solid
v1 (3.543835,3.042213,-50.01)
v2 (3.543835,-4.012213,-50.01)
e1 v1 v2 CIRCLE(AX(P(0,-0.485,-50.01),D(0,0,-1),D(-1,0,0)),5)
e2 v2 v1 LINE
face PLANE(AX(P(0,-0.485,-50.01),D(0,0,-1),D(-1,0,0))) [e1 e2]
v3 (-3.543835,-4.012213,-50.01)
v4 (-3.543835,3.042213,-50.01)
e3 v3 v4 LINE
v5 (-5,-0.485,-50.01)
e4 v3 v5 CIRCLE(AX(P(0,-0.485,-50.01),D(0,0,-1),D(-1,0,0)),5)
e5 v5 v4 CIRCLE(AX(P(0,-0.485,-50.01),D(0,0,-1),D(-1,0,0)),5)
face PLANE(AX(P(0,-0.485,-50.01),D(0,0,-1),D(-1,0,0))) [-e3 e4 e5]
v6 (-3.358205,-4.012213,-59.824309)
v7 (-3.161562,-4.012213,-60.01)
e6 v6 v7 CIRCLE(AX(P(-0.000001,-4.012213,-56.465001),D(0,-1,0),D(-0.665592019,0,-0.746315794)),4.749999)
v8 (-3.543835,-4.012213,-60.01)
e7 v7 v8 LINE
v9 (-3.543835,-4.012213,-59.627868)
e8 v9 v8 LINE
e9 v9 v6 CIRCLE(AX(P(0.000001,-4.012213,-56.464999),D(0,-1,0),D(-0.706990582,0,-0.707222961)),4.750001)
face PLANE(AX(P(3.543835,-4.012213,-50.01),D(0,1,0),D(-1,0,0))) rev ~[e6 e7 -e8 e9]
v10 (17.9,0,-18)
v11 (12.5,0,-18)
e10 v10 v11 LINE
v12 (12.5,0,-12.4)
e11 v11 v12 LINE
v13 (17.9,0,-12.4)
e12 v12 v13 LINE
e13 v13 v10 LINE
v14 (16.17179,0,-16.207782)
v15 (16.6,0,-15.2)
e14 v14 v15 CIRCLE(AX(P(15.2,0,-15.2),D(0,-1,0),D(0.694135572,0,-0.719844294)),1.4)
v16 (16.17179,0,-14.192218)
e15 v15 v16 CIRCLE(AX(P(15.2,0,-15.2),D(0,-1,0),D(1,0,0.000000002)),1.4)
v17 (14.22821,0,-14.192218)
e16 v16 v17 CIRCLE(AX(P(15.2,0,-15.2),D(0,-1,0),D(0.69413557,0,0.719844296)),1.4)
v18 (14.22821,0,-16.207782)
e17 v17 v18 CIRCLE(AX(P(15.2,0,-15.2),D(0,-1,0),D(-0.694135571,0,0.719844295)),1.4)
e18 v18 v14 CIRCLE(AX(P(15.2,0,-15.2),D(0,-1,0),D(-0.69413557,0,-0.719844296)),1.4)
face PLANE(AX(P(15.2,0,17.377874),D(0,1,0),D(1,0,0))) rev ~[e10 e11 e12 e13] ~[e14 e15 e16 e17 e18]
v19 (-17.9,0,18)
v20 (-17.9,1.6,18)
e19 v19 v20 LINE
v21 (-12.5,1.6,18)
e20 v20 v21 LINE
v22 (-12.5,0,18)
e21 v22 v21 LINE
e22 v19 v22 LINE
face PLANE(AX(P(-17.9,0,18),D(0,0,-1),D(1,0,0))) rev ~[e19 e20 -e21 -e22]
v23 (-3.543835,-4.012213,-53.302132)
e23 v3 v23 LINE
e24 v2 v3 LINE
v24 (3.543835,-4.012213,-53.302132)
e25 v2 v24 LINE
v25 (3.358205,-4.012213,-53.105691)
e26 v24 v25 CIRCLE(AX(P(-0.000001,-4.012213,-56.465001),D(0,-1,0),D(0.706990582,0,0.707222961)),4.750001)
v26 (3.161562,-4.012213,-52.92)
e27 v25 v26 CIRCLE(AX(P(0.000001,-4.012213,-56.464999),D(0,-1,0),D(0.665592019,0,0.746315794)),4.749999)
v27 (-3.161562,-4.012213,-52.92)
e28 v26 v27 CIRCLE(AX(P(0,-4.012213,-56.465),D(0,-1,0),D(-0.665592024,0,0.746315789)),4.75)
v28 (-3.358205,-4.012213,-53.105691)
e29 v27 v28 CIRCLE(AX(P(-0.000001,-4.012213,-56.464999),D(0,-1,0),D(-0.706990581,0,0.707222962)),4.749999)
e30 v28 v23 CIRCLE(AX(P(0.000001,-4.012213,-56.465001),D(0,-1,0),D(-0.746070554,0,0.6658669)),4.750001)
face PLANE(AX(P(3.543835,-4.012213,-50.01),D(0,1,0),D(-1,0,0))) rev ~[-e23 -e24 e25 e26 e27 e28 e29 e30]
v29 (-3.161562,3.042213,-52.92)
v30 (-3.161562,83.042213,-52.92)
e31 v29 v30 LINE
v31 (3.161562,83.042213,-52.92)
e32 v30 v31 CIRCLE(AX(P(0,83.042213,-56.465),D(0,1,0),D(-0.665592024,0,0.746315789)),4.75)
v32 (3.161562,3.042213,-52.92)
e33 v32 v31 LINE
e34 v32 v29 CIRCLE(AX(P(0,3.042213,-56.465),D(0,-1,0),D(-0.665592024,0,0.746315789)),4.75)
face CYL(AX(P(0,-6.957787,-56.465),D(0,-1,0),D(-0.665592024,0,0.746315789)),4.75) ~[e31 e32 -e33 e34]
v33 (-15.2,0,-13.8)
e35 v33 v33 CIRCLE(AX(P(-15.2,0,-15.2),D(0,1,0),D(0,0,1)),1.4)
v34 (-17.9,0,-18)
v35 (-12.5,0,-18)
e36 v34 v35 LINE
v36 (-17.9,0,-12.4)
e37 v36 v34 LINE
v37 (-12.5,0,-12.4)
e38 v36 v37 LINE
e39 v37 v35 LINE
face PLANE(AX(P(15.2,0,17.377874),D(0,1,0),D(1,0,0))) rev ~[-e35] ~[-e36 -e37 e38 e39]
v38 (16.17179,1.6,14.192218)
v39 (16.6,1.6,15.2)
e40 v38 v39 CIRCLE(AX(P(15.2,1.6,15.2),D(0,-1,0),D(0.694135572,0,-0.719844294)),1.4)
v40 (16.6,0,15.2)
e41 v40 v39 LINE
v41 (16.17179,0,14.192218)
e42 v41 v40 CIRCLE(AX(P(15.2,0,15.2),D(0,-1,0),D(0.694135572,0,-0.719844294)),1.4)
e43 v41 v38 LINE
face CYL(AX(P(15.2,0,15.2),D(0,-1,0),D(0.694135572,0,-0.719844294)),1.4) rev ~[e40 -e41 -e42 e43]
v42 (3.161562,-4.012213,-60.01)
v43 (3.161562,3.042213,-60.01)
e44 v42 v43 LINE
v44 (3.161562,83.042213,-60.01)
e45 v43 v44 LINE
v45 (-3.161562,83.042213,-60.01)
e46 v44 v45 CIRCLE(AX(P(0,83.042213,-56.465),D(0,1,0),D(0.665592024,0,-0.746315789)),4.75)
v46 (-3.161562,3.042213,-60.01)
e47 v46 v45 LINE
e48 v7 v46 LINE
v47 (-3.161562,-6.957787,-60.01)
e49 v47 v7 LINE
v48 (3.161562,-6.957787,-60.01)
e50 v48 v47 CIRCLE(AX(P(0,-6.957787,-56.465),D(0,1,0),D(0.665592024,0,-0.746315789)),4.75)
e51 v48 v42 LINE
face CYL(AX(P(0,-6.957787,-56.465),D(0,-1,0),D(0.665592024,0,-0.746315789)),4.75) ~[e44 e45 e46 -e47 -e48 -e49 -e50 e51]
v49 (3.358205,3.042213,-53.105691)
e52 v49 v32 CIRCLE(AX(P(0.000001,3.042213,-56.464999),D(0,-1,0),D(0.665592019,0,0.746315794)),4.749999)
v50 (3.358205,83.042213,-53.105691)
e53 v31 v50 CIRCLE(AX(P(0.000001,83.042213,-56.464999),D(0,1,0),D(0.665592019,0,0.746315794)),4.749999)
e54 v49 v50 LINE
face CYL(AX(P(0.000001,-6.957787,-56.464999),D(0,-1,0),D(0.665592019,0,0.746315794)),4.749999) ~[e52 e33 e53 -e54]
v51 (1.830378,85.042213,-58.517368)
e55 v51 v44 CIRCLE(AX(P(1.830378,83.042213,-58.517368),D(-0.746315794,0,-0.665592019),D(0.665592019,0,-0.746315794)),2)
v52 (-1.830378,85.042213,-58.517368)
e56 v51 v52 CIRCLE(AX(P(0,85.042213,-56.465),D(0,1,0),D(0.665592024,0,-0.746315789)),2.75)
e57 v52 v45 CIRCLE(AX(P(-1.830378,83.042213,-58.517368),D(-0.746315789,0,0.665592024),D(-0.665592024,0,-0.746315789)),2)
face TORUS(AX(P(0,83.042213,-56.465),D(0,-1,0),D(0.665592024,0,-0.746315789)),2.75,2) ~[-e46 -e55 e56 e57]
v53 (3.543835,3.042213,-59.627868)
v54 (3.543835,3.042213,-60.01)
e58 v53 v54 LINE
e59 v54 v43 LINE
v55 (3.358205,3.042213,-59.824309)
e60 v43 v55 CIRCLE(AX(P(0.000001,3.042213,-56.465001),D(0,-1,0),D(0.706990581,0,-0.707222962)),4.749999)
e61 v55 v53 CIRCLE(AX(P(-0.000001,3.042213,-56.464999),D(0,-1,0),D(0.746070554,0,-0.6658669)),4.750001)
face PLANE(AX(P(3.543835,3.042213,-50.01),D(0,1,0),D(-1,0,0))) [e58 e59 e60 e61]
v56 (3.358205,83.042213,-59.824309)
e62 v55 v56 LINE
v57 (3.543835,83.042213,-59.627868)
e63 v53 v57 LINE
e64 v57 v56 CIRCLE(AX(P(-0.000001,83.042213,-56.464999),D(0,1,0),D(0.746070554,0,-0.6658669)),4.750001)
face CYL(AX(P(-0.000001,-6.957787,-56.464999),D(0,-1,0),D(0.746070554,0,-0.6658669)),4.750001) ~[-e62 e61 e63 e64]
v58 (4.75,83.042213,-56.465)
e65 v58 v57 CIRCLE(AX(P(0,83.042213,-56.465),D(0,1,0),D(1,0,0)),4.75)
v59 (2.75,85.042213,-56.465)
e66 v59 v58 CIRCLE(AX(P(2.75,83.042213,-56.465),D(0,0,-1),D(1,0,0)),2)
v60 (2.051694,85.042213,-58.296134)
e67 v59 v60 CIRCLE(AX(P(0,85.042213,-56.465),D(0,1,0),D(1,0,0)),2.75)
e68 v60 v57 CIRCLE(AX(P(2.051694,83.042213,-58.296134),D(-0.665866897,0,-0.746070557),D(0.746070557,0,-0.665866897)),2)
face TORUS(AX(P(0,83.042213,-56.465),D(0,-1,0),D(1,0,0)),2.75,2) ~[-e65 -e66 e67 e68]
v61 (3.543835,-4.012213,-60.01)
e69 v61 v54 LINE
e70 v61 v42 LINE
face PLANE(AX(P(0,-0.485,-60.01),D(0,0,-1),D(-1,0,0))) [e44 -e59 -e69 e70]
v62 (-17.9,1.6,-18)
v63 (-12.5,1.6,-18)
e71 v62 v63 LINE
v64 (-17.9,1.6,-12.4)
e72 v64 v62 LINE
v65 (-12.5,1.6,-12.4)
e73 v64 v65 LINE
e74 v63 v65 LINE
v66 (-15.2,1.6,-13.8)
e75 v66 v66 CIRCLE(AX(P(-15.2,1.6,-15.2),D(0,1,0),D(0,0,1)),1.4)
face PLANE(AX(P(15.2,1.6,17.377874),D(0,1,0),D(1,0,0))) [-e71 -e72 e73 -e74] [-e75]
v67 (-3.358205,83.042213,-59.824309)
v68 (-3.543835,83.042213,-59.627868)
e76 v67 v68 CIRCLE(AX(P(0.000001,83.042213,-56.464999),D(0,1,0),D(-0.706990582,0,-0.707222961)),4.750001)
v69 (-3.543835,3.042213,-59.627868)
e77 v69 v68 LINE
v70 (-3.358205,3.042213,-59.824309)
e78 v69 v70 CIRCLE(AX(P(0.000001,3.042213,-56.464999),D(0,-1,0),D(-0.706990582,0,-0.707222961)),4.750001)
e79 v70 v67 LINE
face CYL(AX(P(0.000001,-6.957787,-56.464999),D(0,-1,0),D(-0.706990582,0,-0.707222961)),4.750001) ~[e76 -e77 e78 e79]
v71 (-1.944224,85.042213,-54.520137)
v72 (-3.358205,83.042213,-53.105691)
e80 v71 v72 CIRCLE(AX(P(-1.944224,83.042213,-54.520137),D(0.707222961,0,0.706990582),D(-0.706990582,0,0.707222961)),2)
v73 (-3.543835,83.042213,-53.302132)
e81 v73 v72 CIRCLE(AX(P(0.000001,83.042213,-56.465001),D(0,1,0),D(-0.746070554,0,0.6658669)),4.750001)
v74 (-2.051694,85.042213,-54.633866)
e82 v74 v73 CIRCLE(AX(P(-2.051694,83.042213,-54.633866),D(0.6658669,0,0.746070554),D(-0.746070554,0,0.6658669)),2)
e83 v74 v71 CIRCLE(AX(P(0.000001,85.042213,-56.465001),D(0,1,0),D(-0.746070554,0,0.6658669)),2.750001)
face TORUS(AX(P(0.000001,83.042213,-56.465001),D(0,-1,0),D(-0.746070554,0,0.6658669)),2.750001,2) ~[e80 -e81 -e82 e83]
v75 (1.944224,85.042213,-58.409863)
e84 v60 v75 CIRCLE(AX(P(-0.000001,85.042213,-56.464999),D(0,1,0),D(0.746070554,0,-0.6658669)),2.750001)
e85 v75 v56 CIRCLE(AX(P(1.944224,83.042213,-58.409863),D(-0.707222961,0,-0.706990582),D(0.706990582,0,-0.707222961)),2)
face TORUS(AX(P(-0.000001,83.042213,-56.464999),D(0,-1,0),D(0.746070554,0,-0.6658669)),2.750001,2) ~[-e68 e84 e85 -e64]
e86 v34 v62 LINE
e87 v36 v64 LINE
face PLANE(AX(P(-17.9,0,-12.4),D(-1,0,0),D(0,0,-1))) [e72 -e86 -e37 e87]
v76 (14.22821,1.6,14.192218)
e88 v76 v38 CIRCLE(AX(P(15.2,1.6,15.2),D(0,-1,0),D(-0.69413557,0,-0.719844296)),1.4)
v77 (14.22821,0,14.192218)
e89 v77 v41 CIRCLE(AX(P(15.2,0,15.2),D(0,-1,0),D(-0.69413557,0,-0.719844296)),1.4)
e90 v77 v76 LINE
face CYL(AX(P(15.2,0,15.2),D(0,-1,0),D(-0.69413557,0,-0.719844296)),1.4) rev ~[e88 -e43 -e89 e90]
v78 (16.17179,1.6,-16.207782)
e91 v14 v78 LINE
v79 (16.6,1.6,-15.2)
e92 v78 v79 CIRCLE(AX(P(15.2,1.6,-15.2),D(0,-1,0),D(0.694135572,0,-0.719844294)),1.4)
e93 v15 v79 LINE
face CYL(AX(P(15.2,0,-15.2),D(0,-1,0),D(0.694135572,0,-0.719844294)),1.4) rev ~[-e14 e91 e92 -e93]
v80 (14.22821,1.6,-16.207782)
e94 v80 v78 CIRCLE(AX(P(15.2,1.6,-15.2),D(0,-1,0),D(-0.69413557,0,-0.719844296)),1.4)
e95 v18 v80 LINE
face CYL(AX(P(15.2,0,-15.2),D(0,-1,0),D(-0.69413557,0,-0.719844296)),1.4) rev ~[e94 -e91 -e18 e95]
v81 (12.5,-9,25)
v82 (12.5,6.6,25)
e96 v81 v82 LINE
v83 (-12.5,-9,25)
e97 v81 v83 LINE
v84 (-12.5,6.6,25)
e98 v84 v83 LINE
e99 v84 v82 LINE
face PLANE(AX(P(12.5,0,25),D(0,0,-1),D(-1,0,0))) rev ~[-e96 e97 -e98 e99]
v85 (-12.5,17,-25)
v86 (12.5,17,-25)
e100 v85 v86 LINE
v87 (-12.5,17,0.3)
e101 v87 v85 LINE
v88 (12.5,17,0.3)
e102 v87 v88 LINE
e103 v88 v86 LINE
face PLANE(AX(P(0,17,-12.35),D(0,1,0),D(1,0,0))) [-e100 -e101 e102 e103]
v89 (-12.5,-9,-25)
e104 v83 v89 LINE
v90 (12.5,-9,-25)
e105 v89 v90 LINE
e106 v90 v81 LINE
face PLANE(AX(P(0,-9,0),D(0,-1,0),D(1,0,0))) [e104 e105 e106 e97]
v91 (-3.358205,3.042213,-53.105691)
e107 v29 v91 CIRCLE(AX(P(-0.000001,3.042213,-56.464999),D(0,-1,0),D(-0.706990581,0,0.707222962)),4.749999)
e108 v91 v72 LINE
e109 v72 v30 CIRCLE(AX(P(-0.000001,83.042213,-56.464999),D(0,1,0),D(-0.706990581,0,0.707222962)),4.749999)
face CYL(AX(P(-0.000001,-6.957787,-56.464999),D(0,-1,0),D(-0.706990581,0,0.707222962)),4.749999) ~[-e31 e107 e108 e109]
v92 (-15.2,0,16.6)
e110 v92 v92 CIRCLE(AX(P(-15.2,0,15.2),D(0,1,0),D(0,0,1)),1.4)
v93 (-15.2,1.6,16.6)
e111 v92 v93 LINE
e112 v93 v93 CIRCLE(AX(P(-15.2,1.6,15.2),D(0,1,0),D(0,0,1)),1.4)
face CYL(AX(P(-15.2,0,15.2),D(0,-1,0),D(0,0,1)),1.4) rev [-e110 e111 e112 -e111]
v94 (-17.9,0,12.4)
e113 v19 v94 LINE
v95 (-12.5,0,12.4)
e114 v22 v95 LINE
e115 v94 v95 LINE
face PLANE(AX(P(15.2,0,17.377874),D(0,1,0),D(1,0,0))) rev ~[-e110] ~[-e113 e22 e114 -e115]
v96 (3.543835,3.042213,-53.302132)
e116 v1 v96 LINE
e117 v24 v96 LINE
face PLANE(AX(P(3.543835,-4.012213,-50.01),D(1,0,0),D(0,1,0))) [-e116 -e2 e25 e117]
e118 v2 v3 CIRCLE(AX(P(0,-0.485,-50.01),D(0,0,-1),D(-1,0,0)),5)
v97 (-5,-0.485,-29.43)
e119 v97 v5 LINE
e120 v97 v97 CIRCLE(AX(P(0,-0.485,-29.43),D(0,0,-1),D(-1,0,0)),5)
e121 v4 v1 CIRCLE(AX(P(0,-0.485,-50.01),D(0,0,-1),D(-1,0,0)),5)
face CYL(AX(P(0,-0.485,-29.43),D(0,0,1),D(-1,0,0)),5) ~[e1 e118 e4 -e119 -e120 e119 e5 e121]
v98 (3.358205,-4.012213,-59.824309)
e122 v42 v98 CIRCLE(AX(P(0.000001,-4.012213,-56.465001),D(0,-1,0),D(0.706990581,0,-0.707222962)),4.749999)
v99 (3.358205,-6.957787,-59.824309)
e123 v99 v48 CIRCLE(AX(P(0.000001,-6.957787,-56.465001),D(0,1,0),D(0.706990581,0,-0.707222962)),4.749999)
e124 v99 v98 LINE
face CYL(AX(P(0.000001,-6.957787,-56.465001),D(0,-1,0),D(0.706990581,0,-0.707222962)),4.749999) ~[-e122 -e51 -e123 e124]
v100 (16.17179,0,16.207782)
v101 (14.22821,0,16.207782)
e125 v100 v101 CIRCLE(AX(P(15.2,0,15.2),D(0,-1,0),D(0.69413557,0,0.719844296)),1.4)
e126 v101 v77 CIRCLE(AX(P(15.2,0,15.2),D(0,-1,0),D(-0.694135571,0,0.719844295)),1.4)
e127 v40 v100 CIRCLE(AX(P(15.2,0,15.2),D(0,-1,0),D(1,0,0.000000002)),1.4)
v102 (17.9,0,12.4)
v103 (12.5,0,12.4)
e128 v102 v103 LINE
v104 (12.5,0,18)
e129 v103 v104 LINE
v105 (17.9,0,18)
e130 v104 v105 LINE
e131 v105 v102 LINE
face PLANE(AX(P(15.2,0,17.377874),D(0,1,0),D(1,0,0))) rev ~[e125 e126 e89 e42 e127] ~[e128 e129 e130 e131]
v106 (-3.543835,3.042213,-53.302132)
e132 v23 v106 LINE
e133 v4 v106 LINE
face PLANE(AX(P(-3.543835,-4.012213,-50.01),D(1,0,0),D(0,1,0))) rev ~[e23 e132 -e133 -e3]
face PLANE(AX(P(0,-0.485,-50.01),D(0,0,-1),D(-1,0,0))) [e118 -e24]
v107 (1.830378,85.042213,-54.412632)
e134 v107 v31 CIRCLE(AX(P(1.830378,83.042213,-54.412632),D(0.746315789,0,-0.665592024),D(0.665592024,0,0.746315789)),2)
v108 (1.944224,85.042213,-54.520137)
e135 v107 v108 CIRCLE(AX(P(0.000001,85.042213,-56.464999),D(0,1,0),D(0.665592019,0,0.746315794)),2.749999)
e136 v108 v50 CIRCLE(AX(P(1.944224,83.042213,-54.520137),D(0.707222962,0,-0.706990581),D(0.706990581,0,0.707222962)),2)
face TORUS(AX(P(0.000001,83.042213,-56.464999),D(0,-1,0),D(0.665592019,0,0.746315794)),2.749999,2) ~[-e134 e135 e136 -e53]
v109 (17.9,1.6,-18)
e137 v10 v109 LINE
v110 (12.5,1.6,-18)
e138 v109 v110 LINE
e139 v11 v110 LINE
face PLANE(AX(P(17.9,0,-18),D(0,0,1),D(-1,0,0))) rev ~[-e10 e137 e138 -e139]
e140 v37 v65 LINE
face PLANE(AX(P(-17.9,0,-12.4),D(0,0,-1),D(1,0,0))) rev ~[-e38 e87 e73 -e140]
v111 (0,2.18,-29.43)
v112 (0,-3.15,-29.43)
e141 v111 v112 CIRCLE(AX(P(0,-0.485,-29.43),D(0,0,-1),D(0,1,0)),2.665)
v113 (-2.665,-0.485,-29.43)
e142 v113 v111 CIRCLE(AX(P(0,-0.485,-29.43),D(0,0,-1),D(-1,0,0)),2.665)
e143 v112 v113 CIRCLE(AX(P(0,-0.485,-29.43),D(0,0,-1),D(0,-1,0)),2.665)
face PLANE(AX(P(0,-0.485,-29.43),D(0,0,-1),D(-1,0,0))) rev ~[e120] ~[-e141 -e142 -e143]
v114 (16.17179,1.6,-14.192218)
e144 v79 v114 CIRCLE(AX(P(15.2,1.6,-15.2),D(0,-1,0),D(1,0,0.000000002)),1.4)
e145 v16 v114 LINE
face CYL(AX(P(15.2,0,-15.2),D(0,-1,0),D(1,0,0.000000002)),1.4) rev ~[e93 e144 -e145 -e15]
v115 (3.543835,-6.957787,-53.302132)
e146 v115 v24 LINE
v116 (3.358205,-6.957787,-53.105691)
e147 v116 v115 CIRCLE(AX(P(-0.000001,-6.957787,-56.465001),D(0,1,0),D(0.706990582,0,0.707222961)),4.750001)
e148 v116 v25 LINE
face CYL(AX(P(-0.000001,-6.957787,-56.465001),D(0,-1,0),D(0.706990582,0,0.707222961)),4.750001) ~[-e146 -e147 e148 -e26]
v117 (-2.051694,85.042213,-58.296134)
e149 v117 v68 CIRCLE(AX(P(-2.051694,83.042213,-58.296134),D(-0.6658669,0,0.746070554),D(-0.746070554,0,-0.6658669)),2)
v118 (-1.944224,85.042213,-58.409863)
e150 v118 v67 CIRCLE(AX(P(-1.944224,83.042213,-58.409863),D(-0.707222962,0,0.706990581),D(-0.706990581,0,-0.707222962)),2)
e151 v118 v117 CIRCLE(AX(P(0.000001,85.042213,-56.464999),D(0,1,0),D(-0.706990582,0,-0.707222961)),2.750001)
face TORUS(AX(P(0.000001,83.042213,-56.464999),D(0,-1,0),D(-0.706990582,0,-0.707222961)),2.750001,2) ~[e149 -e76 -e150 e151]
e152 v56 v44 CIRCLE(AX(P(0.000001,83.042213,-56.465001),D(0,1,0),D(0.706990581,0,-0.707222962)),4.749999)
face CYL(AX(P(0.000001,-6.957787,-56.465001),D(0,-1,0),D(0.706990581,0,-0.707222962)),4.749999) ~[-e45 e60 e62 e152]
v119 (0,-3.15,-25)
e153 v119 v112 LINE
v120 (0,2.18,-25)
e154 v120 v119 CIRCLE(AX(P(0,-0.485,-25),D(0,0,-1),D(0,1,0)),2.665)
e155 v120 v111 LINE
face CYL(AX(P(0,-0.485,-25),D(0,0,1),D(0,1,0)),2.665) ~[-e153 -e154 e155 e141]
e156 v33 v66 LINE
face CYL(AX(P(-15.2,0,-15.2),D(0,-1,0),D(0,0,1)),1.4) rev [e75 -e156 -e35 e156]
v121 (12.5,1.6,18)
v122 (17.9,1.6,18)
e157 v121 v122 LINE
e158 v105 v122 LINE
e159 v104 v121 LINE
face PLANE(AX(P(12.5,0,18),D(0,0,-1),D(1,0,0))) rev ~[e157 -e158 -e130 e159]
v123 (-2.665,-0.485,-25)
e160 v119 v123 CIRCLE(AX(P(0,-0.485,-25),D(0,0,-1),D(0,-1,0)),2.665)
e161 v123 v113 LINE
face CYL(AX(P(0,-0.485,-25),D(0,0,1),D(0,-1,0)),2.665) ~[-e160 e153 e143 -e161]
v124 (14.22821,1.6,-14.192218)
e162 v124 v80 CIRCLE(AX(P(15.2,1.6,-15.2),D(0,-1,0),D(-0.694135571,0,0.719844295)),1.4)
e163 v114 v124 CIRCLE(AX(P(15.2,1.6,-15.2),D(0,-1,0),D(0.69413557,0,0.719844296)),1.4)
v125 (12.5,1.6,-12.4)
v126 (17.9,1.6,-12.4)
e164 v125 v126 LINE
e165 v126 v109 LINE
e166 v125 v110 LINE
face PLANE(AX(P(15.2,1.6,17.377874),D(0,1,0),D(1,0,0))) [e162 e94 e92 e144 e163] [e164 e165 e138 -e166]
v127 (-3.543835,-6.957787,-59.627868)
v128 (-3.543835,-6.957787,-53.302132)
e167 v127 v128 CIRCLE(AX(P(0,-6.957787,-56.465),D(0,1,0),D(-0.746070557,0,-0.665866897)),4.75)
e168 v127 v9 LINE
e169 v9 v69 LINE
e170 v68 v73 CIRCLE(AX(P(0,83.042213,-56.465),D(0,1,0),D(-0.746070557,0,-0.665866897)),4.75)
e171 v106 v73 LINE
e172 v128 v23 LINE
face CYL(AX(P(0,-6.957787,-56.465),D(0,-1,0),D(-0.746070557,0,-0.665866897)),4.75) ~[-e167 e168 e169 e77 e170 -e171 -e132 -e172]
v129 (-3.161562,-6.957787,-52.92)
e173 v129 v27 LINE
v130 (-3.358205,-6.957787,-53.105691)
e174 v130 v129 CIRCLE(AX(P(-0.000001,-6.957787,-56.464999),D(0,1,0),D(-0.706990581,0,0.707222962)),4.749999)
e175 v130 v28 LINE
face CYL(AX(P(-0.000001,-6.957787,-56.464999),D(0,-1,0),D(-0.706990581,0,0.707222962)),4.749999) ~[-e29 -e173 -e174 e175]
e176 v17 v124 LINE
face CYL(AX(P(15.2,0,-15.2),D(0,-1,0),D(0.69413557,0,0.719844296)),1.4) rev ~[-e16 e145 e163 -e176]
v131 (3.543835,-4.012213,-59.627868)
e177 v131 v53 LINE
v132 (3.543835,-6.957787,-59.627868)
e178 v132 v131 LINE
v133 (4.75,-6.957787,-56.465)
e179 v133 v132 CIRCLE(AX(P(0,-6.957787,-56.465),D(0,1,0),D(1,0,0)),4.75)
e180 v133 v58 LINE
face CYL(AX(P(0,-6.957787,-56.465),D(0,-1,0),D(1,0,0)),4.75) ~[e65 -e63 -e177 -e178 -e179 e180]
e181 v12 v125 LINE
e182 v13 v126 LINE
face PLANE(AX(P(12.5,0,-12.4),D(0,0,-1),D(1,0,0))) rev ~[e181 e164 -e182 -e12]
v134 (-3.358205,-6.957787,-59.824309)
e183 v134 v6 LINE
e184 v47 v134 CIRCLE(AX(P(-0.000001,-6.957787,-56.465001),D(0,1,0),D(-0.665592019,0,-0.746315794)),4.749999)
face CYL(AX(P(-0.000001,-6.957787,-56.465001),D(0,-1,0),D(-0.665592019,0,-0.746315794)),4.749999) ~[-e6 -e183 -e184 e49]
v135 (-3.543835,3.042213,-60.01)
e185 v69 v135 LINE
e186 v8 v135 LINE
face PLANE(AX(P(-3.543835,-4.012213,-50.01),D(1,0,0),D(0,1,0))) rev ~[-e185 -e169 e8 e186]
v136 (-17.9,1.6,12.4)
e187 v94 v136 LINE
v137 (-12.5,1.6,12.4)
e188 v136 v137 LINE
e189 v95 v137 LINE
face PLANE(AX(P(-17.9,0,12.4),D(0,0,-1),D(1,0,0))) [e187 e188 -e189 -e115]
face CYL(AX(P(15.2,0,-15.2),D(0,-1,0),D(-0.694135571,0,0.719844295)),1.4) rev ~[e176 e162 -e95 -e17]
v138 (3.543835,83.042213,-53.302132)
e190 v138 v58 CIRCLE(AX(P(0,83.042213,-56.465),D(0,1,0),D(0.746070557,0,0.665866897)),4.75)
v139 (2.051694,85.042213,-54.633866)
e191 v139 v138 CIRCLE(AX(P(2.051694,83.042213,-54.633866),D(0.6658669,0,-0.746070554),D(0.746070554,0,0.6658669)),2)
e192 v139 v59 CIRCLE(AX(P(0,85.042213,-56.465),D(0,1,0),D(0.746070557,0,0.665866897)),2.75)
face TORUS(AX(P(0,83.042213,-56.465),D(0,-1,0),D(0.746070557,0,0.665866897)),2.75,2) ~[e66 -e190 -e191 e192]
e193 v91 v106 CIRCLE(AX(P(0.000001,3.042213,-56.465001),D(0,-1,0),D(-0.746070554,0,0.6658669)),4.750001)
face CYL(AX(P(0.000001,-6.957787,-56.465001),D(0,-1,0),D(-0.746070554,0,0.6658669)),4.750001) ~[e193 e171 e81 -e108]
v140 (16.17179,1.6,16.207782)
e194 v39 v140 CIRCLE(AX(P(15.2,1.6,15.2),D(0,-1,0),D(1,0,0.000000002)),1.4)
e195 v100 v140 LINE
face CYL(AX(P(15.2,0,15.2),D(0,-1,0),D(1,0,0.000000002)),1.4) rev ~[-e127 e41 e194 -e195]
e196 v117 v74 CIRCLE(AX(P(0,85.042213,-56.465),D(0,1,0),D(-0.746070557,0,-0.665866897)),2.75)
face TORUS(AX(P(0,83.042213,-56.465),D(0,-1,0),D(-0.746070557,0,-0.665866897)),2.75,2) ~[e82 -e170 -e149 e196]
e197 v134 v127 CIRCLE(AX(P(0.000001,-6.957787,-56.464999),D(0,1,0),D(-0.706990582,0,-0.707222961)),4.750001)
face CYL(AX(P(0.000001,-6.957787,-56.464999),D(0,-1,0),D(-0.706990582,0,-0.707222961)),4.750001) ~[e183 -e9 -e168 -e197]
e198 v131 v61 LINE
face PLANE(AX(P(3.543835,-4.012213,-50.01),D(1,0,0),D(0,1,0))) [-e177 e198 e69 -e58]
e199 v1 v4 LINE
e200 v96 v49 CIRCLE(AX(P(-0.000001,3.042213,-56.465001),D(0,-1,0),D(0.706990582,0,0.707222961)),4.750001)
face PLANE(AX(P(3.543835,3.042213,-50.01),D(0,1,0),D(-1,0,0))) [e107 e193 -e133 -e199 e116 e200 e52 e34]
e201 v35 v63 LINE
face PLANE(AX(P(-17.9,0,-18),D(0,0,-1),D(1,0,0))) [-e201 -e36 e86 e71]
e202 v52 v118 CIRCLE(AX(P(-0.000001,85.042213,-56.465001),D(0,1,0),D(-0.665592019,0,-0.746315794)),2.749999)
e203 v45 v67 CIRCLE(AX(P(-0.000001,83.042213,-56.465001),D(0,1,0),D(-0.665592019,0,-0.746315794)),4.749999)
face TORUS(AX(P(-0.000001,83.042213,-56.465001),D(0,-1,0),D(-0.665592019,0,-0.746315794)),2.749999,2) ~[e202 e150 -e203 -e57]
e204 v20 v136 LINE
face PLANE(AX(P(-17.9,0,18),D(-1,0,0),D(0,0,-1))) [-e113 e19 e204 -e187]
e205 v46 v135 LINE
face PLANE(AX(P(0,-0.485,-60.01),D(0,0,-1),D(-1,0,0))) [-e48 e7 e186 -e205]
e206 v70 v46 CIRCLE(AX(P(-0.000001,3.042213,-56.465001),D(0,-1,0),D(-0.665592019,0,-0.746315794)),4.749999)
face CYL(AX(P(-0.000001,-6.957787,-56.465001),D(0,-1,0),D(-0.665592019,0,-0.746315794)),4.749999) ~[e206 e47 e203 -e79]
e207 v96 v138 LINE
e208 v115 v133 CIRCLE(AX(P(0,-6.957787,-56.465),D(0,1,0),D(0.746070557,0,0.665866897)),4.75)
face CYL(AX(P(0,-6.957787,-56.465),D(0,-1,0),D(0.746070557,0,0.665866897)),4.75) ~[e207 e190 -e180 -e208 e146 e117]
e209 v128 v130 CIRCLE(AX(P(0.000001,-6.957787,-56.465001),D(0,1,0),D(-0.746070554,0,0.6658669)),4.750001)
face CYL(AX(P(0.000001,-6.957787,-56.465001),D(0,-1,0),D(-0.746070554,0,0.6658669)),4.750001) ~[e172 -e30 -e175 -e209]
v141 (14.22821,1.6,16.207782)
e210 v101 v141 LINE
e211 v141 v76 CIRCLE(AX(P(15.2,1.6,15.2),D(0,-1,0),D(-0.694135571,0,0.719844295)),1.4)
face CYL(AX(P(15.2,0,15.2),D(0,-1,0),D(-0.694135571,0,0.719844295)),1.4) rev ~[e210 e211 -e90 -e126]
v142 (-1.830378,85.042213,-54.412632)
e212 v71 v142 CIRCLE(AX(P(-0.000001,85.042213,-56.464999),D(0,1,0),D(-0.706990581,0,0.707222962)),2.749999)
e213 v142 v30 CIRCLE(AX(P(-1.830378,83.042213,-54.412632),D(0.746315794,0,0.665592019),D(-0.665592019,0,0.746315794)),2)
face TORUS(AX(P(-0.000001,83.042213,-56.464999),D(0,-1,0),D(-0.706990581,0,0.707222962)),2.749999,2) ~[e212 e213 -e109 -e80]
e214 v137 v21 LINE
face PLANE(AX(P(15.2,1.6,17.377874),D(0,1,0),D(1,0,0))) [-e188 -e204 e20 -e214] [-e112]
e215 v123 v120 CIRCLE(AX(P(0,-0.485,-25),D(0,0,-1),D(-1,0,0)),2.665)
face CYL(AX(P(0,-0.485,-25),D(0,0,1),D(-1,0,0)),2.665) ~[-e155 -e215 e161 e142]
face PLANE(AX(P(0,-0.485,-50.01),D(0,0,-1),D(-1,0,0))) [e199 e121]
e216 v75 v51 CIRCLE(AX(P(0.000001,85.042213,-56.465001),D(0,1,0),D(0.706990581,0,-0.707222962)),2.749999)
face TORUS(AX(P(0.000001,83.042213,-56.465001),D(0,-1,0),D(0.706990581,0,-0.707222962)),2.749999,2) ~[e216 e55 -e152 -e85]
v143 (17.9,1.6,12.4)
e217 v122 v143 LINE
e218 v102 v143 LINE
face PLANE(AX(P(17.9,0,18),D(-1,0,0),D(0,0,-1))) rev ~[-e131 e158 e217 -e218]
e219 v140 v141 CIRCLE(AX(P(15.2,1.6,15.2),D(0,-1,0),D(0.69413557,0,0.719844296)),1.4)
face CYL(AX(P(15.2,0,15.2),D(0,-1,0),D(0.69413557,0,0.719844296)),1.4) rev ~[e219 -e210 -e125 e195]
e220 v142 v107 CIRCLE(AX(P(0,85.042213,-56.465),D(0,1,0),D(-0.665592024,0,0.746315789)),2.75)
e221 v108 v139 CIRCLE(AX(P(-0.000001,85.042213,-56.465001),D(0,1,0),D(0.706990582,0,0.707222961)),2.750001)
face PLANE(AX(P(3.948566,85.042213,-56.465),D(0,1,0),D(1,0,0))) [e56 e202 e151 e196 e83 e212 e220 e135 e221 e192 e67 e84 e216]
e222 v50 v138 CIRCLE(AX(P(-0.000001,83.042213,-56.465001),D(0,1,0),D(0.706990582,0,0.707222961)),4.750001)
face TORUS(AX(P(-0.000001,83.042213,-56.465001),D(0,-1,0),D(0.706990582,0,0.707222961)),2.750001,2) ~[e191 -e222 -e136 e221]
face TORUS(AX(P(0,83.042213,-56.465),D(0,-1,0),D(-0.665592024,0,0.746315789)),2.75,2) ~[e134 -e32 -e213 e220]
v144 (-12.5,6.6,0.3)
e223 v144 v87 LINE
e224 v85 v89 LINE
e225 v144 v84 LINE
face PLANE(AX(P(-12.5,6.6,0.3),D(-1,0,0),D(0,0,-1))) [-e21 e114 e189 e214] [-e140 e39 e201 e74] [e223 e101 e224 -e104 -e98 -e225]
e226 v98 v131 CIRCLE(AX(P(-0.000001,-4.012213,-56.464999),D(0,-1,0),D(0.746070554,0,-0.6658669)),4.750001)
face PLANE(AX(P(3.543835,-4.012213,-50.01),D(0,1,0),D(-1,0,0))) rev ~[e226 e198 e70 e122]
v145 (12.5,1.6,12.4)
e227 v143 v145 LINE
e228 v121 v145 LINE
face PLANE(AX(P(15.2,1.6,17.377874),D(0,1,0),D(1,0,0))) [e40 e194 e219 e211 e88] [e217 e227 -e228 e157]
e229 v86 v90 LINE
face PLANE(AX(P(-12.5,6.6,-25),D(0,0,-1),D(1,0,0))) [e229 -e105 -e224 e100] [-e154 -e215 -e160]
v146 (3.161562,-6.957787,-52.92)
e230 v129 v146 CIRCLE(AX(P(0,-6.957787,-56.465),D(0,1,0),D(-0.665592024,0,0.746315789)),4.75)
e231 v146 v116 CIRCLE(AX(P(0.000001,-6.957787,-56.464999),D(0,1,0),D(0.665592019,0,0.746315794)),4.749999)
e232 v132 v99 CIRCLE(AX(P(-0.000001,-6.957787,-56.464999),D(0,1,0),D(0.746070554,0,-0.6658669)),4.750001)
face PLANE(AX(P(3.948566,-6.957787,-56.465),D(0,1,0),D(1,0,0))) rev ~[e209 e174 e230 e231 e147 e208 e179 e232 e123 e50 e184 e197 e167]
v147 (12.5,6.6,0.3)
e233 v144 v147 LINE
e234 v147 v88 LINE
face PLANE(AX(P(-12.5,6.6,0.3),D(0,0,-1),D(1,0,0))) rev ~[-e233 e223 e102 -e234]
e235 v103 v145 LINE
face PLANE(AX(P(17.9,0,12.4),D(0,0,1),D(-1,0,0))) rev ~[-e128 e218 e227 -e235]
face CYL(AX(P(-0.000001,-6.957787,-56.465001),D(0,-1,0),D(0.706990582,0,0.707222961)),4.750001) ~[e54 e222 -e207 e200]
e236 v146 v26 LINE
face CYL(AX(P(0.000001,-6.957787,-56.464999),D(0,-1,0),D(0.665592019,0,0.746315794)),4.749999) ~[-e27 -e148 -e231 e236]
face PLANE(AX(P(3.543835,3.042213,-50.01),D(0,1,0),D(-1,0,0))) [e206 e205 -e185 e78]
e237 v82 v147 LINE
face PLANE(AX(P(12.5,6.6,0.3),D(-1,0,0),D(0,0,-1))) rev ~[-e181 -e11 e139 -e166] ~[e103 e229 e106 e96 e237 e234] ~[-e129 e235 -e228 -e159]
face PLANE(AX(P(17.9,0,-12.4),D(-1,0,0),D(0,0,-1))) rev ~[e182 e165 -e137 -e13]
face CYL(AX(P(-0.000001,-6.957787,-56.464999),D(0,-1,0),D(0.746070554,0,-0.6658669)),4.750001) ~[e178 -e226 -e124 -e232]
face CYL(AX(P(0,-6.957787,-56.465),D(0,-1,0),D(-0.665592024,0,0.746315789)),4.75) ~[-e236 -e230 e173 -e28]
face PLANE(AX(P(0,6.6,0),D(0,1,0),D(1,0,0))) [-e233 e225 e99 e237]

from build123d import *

# Parameters (mm, degrees)
SKETCH_1_W           = 5.4
SKETCH_1_H           = 5.6
SKETCH_1_R           = 1.4
EXTRUDE_1_DEPTH      = 1.6
EXTRUDE_2_DEPTH      = 5
EXTRUDE_3_DEPTH      = 9
SKETCH_5_W           = 25
SKETCH_5_H           = 25.3
EXTRUDE_4_DEPTH      = 10.4
EXTRUDE_5_DEPTH      = 4.43
SKETCH_7_R           = 5
EXTRUDE_6_DEPTH      = 20.58
SKETCH_8_W           = 7.087670288
SKETCH_8_H           = 7.054426262
EXTRUDE_7_DEPTH      = 10
EXTRUDE_8_DEPTH      = 82
EXTRUDE_8_DEPTH_BACK = 10
FILLET_1_R           = 2


with BuildPart() as part:
    # 草图1 → 凸台-拉伸1 (new body)
    # profile 1 of 12: a face of its own
    with BuildSketch(Plane(origin=(0, 0, 0), x_dir=(1, 0, 0), z_dir=(0, 1, 0))):
        Polygon((0, -25), (0, 25), (-12.5, 25), (-12.5, 18), (-12.5, 12.4), (-12.5, -12.4), (-12.5, -18), (-12.5, -25), align=None)
    # profile 2 of 12: a face of its own
    with BuildSketch(Plane(origin=(0, 0, 0), x_dir=(1, 0, 0), z_dir=(0, 1, 0))):
        Polygon((12.5, 18), (12.5, 25), (0, 25), (0, -25), (12.5, -25), (12.5, -18), (12.5, -12.4), (12.5, 12.4), align=None)
    # profile 3 of 12: a face of its own
    with BuildSketch(Plane(origin=(0, 0, 0), x_dir=(1, 0, 0), z_dir=(0, 1, 0))):
        with Locations((-15.2, -15.2)):
            Rectangle(SKETCH_1_W, SKETCH_1_H)
        with Locations(Location((-15.2, -15.2, 0), (0, 0, 270))):
            Circle(SKETCH_1_R, mode=Mode.SUBTRACT)
    # profile 4 of 12: a face of its own
    with BuildSketch(Plane(origin=(0, 0, 0), x_dir=(1, 0, 0), z_dir=(0, 1, 0))):
        with Locations((-15.2, 15.2)):
            Rectangle(SKETCH_1_W, SKETCH_1_H)
        with Locations(Location((-15.2, 15.2, 0), (0, 0, 270))):
            Circle(SKETCH_1_R, mode=Mode.SUBTRACT)
    # profile 5 of 12: a face of its own
    with BuildSketch(Plane(origin=(0, 0, 0), x_dir=(1, 0, 0), z_dir=(0, 1, 0))):
        with BuildLine():
            Line((14.228210201, 14.192217986), (12.5, 12.4))
            Line((12.5, 12.4), (17.9, 12.4))
            Line((17.9, 12.4), (16.171789799, 14.192217986))
            ThreePointArc((16.171789799, 14.192217986), (15.2, 13.8), (14.228210201, 14.192217986))
        make_face()
    # profile 6 of 12: a face of its own
    with BuildSketch(Plane(origin=(0, 0, 0), x_dir=(1, 0, 0), z_dir=(0, 1, 0))):
        with BuildLine():
            Line((17.9, 18), (12.5, 18))
            Line((12.5, 18), (14.228210201, 16.207782014))
            ThreePointArc((14.228210201, 16.207782014), (15.2, 16.6), (16.171789799, 16.207782014))
            Line((16.171789799, 16.207782014), (17.9, 18))
        make_face()
    # profile 7 of 12: a face of its own
    with BuildSketch(Plane(origin=(0, 0, 0), x_dir=(1, 0, 0), z_dir=(0, 1, 0))):
        with BuildLine():
            Line((17.9, 12.4), (17.9, 18))
            Line((17.9, 18), (16.171789799, 16.207782014))
            ThreePointArc((16.171789799, 16.207782014), (16.488507997, 15.747491681), (16.6, 15.2))
            ThreePointArc((16.6, 15.2), (16.488507997, 14.652508319), (16.171789799, 14.192217986))
            Line((16.171789799, 14.192217986), (17.9, 12.4))
        make_face()
    # profile 8 of 12: a face of its own
    with BuildSketch(Plane(origin=(0, 0, 0), x_dir=(1, 0, 0), z_dir=(0, 1, 0))):
        with BuildLine():
            Line((14.228210201, 16.207782014), (12.5, 18))
            Line((12.5, 18), (12.5, 12.4))
            Line((12.5, 12.4), (14.228210201, 14.192217986))
            ThreePointArc((14.228210201, 14.192217986), (13.8, 15.2), (14.228210201, 16.207782014))
        make_face()
    # profile 9 of 12: a face of its own
    with BuildSketch(Plane(origin=(0, 0, 0), x_dir=(1, 0, 0), z_dir=(0, 1, 0))):
        with BuildLine():
            Line((17.9, -12.4), (12.5, -12.4))
            Line((12.5, -12.4), (14.228210201, -14.192217986))
            ThreePointArc((14.228210201, -14.192217986), (15.2, -13.8), (16.171789799, -14.192217986))
            Line((16.171789799, -14.192217986), (17.9, -12.4))
        make_face()
    # profile 10 of 12: a face of its own
    with BuildSketch(Plane(origin=(0, 0, 0), x_dir=(1, 0, 0), z_dir=(0, 1, 0))):
        with BuildLine():
            Line((14.228210201, -14.192217986), (12.5, -12.4))
            Line((12.5, -12.4), (12.5, -18))
            Line((12.5, -18), (14.228210201, -16.207782014))
            ThreePointArc((14.228210201, -16.207782014), (13.8, -15.2), (14.228210201, -14.192217986))
        make_face()
    # profile 11 of 12: a face of its own
    with BuildSketch(Plane(origin=(0, 0, 0), x_dir=(1, 0, 0), z_dir=(0, 1, 0))):
        with BuildLine():
            Line((17.9, -18), (17.9, -12.4))
            Line((17.9, -12.4), (16.171789799, -14.192217986))
            ThreePointArc((16.171789799, -14.192217986), (16.488507997, -14.652508319), (16.6, -15.2))
            ThreePointArc((16.6, -15.2), (16.488507997, -15.747491681), (16.171789799, -16.207782014))
            Line((16.171789799, -16.207782014), (17.9, -18))
        make_face()
    # profile 12 of 12: a face of its own
    with BuildSketch(Plane(origin=(0, 0, 0), x_dir=(1, 0, 0), z_dir=(0, 1, 0))):
        with BuildLine():
            Line((14.228210201, -16.207782014), (12.5, -18))
            Line((12.5, -18), (17.9, -18))
            Line((17.9, -18), (16.171789799, -16.207782014))
            ThreePointArc((16.171789799, -16.207782014), (15.2, -16.6), (14.228210201, -16.207782014))
        make_face()
    extrude(amount=EXTRUDE_1_DEPTH)

    # 草图3 → 凸台-拉伸2 (add)
    with BuildSketch(Plane(origin=(0, 1.6, 0), x_dir=(1, 0, 0), z_dir=(0, 1, 0))):
        Polygon((12.5, 25), (-12.5, 25), (-12.5, 18), (-12.5, 12.4), (-12.5, -12.4), (-12.5, -18), (-12.5, -25), (12.5, -25), (12.5, -18), (12.5, -12.4), (12.5, 12.4), (12.5, 18), align=None)
    extrude(amount=EXTRUDE_2_DEPTH)

    # 草图4 → 凸台-拉伸3 (add)
    with BuildSketch(Plane.XZ):
        Polygon((12.5, 25), (-12.5, 25), (-12.5, 18), (-12.5, 12.4), (-12.5, -12.4), (-12.5, -18), (-12.5, -25), (12.5, -25), (12.5, -18), (12.5, -12.4), (12.5, 12.4), (12.5, 18), align=None)
    extrude(amount=EXTRUDE_3_DEPTH)

    # 草图5 → 凸台-拉伸4 (add)
    with BuildSketch(Plane(origin=(0, 6.6, 0), x_dir=(1, 0, 0), z_dir=(0, 1, 0))):
        with Locations((0, 12.35)):
            Rectangle(SKETCH_5_W, SKETCH_5_H)
    extrude(amount=EXTRUDE_4_DEPTH)

    # 草图6 → 凸台-拉伸5 (add)
    with BuildSketch(Plane(origin=(0, 0, -25), x_dir=(-1, 0, 0), z_dir=(0, 0, -1))):
        with BuildLine():
            ThreePointArc((0, 2.18), (-2.665, -0.485), (0, -3.15))
            Line((0, -3.15), (0, 2.18))
        make_face()
        with BuildLine():
            Line((0, 2.18), (0, -3.15))
            ThreePointArc((0, -3.15), (1.884439572, -2.369439572), (2.665, -0.485))
            ThreePointArc((2.665, -0.485), (1.884439572, 1.399439572), (0, 2.18))
        make_face()
    extrude(amount=EXTRUDE_5_DEPTH)

    # 草图7 → 凸台-拉伸6 (add)
    with BuildSketch(Plane(origin=(0, 0, -29.43), x_dir=(-1, 0, 0), z_dir=(0, 0, -1))):
        with Locations((0, -0.485)):
            Circle(SKETCH_7_R)
    extrude(amount=EXTRUDE_6_DEPTH)

    # 草图8 → 凸台-拉伸7 (add)
    with BuildSketch(Plane(origin=(0, 0, -50.01), x_dir=(-1, 0, 0), z_dir=(0, 0, -1))):
        with Locations((0, -0.485)):
            Rectangle(SKETCH_8_W, SKETCH_8_H)
    extrude(amount=EXTRUDE_7_DEPTH)

    # 草图9 → 凸台-拉伸8 (add, two sides: drawn at the far end of the back side and taken through both)
    with BuildSketch(Plane(origin=(0, 3.042213131, 0), x_dir=(1, 0, 0), z_dir=(0, 1, 0)).offset(-EXTRUDE_8_DEPTH_BACK)):
        with BuildLine():
            Line((3.543835144, 59.627867761), (3.543835144, 53.302132239))
            ThreePointArc((3.543835144, 53.302132239), (4.438226951, 54.772474806), (4.75, 56.465))
            ThreePointArc((4.75, 56.465), (4.438226951, 58.157525194), (3.543835144, 59.627867761))
        make_face()
        with BuildLine():
            ThreePointArc((3.161562114, 60.01), (0, 61.215), (-3.161562114, 60.01))
            Line((-3.161562114, 60.01), (3.161562114, 60.01))
        make_face()
        with BuildLine():
            Line((-3.543835144, 53.302132239), (-3.543835144, 59.627867761))
            ThreePointArc((-3.543835144, 59.627867761), (-4.75, 56.465), (-3.543835144, 53.302132239))
        make_face()
        with BuildLine():
            ThreePointArc((-3.161562114, 52.92), (0, 51.715), (3.161562114, 52.92))
            Line((3.161562114, 52.92), (-3.161562114, 52.92))
        make_face()
        with BuildLine():
            Line((3.358205246, 53.105690915), (0, 56.465))
            Line((0, 56.465), (-3.358205246, 53.105690915))
            ThreePointArc((-3.358205246, 53.105690915), (-3.261205588, 53.011445582), (-3.161562114, 52.92))
            Line((-3.161562114, 52.92), (3.161562114, 52.92))
            ThreePointArc((3.161562114, 52.92), (3.261205588, 53.011445582), (3.358205246, 53.105690915))
        make_face()
        with BuildLine():
            Line((0, 56.465), (-3.358205246, 59.824309085))
            ThreePointArc((-3.358205246, 59.824309085), (-3.452417658, 59.727408974), (-3.543835144, 59.627867761))
            Line((-3.543835144, 59.627867761), (-3.543835144, 53.302132239))
            ThreePointArc((-3.543835144, 53.302132239), (-3.452417658, 53.202591026), (-3.358205246, 53.105690915))
            Line((-3.358205246, 53.105690915), (0, 56.465))
        make_face()
        with BuildLine():
            ThreePointArc((-3.161562114, 60.01), (-3.261205588, 59.918554418), (-3.358205246, 59.824309085))
            Line((-3.358205246, 59.824309085), (0, 56.465))
            Line((0, 56.465), (3.358205246, 59.824309085))
            ThreePointArc((3.358205246, 59.824309085), (3.261205588, 59.918554418), (3.161562114, 60.01))
            Line((3.161562114, 60.01), (-3.161562114, 60.01))
        make_face()
        with BuildLine():
            Line((3.358205246, 59.824309085), (0, 56.465))
            Line((0, 56.465), (3.358205246, 53.105690915))
            ThreePointArc((3.358205246, 53.105690915), (3.452417658, 53.202591026), (3.543835144, 53.302132239))
            Line((3.543835144, 53.302132239), (3.543835144, 59.627867761))
            ThreePointArc((3.543835144, 59.627867761), (3.452417658, 59.727408974), (3.358205246, 59.824309085))
        make_face()
    extrude(amount=EXTRUDE_8_DEPTH + EXTRUDE_8_DEPTH_BACK)

    # 圆角1
    fillet_1_edges = [part.edges().sort_by_distance(p)[0] for p in [
        (-3.359309085, 85.042213131, -53.106794754),
    ]]
    fillet(fillet_1_edges, radius=FILLET_1_R)


solid = part.part
